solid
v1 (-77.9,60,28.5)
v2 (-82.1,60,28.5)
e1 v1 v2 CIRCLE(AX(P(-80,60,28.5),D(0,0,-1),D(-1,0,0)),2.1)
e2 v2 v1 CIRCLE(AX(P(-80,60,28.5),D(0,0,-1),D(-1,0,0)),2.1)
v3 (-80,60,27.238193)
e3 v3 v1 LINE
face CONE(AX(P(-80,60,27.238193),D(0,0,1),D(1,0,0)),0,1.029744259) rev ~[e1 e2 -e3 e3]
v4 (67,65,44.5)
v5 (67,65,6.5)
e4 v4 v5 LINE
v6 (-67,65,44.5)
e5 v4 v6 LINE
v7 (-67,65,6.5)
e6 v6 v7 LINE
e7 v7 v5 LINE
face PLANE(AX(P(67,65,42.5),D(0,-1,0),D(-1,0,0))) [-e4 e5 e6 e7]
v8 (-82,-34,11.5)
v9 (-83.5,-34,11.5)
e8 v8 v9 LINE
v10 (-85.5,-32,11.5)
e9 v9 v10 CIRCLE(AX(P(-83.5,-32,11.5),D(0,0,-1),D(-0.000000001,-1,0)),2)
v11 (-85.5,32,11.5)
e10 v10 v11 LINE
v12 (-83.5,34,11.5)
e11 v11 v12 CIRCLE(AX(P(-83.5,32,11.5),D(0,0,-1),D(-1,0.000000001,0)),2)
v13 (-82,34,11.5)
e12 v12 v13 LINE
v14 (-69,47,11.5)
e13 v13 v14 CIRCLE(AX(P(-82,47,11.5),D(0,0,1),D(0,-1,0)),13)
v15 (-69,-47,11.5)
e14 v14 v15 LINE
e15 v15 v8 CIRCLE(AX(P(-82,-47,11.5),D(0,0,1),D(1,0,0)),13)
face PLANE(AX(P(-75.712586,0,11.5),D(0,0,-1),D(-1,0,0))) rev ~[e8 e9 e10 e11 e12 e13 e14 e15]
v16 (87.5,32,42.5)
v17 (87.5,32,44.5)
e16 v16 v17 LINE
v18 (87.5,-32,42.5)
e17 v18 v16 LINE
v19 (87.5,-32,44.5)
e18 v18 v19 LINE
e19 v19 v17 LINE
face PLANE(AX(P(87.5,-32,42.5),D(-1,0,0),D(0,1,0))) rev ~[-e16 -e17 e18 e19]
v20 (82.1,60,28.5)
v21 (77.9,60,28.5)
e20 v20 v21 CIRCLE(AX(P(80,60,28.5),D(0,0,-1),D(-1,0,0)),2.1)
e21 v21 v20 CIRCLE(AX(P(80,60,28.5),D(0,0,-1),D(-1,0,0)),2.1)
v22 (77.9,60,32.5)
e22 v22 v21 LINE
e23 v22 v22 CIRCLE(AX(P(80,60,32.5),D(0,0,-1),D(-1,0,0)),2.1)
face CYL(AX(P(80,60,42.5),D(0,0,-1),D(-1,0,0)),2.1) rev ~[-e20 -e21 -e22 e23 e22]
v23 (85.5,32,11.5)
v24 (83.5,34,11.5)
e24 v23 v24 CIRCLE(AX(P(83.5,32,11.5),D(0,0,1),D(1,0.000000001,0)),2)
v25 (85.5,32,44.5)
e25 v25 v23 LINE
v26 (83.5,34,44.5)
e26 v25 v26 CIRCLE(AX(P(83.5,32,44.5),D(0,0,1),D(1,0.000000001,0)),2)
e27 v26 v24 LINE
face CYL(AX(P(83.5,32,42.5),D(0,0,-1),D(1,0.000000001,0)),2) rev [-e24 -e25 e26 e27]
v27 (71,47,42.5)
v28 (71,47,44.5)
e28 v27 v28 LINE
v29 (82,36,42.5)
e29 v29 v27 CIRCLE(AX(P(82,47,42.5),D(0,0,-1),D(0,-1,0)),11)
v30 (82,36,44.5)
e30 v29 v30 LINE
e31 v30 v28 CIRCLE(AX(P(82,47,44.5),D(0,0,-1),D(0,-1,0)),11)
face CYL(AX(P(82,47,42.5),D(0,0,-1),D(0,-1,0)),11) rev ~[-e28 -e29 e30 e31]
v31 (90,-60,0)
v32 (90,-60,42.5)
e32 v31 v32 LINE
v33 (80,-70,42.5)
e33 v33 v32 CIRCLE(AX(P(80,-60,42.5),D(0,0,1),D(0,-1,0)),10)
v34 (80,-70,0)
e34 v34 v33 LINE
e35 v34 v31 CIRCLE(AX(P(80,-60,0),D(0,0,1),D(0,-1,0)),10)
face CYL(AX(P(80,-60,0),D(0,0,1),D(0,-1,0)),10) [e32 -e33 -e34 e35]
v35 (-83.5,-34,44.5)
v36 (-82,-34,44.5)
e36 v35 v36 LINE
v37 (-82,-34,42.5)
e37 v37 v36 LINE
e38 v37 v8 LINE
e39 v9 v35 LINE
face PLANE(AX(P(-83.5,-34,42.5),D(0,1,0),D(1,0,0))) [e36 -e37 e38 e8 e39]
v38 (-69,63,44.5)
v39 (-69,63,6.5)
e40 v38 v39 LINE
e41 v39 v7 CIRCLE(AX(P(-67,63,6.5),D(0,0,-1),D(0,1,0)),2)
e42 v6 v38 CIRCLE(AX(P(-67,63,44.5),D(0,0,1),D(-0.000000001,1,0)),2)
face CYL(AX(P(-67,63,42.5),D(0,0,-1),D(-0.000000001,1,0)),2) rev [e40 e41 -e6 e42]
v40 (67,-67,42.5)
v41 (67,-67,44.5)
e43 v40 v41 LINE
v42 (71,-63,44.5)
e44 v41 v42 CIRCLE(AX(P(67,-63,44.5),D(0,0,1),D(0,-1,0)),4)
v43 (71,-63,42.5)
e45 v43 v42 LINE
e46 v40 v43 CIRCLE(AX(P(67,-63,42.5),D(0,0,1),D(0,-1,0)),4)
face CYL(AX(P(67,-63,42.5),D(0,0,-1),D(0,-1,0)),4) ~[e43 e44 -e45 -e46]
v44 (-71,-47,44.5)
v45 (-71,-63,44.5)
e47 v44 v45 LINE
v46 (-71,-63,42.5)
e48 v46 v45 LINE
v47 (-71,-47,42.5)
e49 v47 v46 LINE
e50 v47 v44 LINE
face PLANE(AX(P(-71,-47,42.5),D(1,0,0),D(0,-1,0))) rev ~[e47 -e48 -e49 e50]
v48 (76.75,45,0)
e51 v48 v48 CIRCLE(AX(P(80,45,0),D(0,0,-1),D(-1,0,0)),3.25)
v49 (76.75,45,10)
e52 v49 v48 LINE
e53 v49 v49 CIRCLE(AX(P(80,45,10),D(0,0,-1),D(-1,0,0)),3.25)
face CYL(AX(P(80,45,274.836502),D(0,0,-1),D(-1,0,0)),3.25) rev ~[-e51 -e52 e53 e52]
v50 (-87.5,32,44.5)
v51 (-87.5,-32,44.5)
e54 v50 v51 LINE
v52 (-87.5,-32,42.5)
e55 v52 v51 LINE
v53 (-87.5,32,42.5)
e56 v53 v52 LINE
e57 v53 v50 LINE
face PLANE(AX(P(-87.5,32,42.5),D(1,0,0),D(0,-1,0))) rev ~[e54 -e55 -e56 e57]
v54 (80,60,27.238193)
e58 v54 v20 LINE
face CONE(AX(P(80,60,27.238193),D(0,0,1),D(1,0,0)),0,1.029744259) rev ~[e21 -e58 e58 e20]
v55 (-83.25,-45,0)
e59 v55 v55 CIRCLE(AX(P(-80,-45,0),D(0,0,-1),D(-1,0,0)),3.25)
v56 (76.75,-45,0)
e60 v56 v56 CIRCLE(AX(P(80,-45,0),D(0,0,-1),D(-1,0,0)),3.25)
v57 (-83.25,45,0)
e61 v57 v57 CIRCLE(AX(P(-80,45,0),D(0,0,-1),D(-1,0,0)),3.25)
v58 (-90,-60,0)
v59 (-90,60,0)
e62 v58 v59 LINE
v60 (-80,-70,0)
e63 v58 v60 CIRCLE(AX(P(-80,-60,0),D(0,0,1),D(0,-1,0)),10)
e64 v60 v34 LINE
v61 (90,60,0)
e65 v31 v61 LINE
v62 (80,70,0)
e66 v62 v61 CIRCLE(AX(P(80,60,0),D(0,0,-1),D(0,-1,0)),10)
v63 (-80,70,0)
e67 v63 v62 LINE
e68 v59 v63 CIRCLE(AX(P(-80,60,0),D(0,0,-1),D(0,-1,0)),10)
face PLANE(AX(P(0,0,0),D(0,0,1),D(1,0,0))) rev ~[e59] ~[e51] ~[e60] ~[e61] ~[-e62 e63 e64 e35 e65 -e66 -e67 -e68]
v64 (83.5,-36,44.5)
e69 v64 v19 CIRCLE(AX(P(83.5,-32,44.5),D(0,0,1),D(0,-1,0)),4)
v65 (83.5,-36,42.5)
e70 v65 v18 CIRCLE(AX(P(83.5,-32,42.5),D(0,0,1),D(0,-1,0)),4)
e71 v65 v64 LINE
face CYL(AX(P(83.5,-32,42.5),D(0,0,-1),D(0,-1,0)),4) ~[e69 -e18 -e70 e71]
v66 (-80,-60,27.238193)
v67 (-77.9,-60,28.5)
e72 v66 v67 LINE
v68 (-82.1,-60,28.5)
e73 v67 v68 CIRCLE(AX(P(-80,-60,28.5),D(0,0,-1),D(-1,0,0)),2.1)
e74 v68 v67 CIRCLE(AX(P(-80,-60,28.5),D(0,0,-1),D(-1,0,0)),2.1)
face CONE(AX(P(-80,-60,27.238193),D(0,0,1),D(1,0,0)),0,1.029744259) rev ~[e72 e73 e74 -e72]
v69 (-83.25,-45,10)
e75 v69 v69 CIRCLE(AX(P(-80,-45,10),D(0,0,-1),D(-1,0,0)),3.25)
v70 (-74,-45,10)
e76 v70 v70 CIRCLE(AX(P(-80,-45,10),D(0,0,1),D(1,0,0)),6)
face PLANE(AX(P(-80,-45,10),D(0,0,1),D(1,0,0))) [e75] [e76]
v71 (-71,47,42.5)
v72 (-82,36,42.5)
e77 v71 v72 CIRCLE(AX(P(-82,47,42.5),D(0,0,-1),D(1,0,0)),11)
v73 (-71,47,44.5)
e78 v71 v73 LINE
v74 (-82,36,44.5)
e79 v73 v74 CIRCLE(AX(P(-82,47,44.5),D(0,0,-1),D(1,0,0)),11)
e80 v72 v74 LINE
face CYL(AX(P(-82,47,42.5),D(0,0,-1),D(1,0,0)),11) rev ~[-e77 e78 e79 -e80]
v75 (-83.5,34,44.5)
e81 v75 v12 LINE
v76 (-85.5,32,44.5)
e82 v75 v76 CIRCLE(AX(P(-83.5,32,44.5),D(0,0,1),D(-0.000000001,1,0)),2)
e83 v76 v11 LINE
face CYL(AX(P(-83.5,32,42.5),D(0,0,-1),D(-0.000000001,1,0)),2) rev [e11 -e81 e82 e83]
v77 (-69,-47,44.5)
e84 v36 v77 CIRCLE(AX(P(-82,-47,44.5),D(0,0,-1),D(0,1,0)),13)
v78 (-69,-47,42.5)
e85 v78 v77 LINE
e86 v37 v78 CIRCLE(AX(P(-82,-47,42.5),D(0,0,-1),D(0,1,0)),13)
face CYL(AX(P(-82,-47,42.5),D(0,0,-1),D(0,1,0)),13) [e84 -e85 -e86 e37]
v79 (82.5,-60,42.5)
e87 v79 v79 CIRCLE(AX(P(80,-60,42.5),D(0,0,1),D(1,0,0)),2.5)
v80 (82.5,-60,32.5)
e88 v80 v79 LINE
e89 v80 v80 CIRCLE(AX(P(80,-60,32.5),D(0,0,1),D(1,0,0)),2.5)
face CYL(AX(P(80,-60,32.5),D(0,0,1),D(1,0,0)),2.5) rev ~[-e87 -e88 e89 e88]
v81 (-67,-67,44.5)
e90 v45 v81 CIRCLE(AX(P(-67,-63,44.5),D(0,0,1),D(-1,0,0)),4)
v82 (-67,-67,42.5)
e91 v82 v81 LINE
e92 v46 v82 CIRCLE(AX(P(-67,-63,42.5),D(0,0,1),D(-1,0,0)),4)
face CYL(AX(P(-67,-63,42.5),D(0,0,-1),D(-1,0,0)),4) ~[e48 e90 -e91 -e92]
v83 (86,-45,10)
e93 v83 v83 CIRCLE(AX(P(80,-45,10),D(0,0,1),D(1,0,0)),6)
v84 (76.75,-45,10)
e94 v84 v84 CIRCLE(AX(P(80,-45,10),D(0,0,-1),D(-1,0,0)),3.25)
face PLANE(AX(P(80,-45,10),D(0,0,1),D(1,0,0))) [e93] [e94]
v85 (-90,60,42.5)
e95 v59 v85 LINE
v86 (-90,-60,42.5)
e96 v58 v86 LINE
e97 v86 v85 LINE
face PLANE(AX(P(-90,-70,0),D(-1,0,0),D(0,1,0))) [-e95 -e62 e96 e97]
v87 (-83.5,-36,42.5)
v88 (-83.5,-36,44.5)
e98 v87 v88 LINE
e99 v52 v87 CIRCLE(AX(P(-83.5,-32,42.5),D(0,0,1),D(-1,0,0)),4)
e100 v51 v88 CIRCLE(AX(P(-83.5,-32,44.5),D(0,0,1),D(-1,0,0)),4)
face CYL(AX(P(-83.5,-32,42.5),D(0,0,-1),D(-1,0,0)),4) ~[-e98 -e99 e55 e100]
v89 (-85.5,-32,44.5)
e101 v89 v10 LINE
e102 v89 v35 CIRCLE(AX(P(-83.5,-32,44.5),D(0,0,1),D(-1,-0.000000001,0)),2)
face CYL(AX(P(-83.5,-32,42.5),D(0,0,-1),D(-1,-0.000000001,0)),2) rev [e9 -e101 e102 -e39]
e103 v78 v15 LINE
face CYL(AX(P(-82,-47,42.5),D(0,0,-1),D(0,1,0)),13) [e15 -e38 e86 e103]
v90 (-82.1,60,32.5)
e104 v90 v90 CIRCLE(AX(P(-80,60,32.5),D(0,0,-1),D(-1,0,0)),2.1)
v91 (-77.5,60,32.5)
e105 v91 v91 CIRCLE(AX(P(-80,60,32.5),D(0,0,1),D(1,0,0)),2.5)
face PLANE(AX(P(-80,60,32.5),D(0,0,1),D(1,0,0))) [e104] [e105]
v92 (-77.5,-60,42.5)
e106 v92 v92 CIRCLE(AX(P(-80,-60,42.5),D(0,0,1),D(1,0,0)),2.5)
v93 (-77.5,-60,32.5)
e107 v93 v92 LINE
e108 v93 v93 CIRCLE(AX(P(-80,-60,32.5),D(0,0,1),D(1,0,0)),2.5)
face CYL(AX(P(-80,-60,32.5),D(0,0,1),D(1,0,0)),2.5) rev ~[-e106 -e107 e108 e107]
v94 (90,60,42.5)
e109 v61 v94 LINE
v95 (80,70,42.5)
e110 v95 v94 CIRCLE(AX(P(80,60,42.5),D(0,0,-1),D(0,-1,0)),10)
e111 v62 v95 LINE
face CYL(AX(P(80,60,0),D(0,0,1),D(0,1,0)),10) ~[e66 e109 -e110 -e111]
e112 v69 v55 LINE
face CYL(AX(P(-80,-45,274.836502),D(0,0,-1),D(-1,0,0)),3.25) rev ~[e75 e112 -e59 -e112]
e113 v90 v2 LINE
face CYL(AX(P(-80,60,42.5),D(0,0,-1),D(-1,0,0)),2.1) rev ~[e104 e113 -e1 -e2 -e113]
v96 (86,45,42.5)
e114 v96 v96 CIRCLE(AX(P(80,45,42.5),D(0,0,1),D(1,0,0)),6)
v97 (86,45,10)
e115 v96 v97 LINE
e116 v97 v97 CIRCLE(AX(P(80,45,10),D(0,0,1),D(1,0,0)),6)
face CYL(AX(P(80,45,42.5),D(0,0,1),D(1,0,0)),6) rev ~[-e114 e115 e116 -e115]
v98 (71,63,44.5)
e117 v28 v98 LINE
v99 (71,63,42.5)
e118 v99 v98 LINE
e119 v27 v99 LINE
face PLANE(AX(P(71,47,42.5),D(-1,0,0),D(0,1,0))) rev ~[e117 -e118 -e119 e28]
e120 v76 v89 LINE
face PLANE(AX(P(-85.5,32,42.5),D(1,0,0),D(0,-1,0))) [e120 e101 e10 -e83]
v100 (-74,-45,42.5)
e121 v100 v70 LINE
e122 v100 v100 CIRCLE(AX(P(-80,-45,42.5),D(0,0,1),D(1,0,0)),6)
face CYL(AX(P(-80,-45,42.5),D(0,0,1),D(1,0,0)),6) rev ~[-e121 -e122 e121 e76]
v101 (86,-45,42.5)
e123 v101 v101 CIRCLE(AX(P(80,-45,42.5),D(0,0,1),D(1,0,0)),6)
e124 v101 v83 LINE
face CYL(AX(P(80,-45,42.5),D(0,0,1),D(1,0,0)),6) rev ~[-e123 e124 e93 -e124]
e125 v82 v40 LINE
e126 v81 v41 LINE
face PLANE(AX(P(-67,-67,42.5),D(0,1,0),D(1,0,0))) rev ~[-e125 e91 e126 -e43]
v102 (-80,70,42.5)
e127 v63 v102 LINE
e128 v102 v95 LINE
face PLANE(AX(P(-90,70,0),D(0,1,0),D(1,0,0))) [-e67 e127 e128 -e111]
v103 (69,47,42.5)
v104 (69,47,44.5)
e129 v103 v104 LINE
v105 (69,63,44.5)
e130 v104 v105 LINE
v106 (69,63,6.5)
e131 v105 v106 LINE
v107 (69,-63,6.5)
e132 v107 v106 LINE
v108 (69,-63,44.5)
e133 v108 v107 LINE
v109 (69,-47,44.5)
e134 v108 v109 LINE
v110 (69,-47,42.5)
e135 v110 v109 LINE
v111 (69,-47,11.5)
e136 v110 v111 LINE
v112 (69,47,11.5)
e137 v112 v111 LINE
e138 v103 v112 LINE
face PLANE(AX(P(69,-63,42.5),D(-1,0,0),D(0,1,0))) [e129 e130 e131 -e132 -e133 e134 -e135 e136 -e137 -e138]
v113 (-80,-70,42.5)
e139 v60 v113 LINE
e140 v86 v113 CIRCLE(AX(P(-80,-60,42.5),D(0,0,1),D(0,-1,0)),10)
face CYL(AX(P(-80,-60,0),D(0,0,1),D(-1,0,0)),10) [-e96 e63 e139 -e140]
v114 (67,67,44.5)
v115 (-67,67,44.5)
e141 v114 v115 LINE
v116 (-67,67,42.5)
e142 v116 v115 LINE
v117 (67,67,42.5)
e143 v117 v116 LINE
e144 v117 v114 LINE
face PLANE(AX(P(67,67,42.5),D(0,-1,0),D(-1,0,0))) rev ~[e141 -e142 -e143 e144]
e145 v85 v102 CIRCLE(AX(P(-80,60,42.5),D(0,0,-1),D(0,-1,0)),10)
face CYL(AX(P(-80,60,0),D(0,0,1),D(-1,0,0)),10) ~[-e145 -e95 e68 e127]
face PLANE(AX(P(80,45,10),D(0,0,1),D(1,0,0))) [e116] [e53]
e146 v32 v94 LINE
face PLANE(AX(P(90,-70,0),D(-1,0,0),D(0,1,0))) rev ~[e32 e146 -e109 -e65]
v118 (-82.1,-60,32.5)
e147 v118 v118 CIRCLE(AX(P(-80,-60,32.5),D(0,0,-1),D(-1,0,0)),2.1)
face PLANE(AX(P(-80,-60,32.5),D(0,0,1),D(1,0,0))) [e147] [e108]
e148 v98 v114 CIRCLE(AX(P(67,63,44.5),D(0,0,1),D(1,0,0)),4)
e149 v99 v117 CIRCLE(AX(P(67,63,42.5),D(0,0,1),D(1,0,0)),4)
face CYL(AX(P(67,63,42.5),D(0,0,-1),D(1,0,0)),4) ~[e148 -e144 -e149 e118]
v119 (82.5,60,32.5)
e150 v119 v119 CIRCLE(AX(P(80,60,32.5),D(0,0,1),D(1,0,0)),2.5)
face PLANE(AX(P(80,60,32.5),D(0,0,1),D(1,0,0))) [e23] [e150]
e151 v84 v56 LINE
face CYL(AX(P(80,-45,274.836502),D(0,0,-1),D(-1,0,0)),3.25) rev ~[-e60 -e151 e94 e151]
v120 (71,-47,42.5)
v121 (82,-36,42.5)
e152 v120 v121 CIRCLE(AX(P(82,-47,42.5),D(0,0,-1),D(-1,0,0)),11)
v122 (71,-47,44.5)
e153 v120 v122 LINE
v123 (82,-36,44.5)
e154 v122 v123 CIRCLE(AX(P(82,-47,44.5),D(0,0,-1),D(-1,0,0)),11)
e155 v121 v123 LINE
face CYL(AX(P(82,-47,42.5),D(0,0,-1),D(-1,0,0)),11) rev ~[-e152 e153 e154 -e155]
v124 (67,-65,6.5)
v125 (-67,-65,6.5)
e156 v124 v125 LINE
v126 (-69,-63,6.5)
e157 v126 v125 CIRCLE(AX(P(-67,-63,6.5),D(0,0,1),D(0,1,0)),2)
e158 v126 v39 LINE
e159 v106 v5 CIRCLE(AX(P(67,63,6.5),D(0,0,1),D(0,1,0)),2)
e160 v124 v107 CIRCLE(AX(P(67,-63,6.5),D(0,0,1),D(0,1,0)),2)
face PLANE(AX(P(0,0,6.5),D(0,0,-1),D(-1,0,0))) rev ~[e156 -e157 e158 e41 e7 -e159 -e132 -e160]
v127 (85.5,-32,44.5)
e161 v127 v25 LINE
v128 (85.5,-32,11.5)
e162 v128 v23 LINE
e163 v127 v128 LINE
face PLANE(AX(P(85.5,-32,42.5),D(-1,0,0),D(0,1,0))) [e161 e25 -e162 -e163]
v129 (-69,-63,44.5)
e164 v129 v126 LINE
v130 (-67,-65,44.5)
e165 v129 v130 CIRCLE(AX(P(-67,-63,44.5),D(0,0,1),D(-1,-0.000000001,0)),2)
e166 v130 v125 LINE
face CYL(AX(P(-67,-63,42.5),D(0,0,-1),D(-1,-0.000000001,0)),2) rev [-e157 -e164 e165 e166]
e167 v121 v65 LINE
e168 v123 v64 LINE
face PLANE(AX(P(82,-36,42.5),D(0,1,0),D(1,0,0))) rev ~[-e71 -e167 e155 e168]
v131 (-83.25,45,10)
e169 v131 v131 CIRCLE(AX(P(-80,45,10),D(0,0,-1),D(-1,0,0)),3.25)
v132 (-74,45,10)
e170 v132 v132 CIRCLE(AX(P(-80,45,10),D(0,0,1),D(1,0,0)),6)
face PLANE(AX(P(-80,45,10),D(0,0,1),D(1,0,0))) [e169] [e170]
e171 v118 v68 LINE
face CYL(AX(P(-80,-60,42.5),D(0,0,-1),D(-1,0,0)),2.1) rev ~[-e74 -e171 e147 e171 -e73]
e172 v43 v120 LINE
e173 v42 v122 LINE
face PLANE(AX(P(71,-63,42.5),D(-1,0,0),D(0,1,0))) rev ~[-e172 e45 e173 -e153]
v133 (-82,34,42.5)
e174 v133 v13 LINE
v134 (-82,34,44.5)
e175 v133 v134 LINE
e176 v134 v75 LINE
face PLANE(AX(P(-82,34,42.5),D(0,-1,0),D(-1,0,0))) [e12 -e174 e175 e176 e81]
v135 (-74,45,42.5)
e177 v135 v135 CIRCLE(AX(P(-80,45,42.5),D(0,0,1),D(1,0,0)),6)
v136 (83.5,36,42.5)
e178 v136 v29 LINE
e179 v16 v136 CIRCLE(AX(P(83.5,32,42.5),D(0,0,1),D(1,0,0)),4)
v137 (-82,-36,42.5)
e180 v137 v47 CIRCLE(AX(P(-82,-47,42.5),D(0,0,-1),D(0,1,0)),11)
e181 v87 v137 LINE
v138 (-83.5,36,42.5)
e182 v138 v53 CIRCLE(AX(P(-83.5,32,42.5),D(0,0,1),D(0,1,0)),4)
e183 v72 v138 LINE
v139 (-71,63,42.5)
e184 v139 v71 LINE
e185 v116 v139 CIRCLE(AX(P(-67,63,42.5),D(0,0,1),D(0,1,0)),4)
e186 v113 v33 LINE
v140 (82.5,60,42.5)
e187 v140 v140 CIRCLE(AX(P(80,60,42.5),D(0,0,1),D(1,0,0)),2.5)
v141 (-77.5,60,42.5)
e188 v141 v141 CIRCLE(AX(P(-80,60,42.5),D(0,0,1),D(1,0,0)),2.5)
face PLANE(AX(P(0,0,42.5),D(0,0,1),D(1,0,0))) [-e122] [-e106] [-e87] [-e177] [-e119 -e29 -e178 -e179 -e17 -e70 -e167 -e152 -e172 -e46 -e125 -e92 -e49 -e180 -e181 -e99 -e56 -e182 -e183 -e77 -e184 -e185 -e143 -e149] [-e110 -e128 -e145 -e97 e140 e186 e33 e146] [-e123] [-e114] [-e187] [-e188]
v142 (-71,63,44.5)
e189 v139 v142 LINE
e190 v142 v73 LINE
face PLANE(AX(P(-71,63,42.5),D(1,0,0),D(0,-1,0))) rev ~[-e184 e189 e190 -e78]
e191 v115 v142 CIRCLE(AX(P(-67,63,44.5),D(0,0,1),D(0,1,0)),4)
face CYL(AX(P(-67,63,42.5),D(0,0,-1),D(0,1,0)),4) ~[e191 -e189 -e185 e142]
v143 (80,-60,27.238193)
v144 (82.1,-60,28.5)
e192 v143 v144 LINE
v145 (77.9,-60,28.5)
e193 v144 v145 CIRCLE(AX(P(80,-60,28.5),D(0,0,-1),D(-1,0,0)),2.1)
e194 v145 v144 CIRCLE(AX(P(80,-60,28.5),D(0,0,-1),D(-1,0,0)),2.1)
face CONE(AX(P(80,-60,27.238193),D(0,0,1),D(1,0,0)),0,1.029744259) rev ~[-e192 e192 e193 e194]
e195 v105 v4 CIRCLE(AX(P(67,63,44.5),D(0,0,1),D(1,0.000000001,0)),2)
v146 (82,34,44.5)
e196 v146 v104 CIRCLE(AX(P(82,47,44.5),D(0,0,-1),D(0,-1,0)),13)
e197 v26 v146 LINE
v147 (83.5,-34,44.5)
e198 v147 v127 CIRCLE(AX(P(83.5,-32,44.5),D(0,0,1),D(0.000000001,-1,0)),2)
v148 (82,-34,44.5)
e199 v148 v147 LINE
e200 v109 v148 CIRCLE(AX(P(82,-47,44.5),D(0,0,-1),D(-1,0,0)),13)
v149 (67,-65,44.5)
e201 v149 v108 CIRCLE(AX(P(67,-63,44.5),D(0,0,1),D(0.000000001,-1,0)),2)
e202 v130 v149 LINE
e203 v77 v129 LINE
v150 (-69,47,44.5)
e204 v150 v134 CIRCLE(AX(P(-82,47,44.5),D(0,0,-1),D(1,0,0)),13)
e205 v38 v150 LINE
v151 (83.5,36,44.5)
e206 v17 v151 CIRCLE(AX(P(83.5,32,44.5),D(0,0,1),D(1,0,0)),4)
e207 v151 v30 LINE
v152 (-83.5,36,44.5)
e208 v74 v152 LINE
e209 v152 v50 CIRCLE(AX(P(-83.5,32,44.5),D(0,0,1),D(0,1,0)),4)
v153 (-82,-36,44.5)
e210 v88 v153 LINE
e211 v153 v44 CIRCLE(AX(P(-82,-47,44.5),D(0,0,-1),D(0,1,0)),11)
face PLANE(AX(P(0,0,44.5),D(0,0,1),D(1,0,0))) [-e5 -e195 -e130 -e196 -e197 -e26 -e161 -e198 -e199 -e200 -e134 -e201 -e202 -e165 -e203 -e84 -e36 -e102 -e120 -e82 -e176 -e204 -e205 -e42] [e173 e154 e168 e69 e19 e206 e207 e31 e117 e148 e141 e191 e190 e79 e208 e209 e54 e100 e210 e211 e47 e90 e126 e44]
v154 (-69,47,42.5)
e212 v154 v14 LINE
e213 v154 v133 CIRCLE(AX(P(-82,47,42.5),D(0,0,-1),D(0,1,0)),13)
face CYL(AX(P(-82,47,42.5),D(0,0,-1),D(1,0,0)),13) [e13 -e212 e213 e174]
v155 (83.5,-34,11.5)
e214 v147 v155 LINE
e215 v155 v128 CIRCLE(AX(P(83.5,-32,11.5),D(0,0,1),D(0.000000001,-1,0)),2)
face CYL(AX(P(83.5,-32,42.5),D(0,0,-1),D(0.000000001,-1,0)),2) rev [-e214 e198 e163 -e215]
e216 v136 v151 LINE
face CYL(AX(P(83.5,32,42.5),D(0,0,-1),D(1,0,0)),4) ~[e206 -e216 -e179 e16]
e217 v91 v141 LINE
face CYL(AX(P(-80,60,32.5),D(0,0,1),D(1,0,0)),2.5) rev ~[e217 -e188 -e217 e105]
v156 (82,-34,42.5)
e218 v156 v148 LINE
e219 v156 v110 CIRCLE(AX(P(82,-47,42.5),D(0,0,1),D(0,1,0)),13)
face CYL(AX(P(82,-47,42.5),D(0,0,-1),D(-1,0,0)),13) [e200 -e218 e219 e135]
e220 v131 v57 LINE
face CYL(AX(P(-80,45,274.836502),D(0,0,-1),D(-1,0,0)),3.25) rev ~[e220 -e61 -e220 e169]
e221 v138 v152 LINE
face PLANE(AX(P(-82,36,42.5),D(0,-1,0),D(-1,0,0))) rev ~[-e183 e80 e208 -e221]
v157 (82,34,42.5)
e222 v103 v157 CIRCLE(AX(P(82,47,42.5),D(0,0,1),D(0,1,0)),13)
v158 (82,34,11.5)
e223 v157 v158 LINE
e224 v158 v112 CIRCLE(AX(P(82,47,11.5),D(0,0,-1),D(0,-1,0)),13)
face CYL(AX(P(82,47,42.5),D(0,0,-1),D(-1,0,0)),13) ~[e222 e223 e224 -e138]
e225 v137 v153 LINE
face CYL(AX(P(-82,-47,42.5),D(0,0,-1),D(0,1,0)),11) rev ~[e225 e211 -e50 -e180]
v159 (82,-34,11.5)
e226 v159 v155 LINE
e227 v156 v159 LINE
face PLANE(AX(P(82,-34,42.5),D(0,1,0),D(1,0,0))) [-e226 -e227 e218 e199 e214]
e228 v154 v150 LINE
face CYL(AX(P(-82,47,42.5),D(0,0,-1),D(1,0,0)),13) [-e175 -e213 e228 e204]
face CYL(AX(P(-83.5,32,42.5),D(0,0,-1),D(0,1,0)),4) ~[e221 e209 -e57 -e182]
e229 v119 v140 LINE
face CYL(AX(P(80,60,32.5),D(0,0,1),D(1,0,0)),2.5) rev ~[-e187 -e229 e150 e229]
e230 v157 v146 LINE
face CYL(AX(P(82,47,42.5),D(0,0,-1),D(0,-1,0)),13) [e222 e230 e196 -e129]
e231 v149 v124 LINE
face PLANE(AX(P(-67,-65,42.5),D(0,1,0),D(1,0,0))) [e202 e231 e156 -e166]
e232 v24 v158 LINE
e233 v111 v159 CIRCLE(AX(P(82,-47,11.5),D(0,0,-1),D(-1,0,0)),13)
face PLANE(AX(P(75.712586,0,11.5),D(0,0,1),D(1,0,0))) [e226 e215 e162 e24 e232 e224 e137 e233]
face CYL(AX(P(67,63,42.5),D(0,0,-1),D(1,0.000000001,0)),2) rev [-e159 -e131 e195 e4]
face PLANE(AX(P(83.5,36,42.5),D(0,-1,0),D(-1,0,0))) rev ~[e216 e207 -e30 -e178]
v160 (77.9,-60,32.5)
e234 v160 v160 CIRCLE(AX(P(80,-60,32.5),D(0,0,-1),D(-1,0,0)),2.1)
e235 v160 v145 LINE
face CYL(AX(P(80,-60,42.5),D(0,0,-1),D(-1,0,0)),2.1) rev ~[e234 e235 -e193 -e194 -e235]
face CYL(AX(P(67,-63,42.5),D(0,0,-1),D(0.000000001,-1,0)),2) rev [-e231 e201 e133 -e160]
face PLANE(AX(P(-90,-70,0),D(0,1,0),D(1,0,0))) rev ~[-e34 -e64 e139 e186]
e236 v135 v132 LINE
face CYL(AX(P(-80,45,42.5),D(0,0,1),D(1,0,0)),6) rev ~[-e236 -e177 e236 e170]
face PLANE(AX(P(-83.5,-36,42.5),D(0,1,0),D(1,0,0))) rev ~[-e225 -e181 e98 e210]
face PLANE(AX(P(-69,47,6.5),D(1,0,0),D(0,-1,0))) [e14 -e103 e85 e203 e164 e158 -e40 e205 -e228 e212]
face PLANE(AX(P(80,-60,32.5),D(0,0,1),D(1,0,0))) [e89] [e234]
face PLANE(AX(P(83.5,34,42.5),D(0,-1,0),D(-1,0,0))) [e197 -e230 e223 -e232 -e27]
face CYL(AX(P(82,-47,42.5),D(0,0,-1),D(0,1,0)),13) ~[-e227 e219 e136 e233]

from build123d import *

# Parameters (mm, degrees)
SKETCH1_W                   = 180
SKETCH1_H                   = 140
BOSS_EXTRUDE1_DEPTH         = 42.5
CUT_EXTRUDE1_DEPTH          = 36
FILLET1_R                   = 2
FILLET2_R                   = 13
FILLET3_R                   = 10
BOSS_EXTRUDE2_DEPTH         = 2
F_6_5_6_5_DIAMETER_HOLE1_D  = 6.5
M5_TAPPED_HOLE1_D           = 4.2
M5_TAPPED_HOLE1_DEPTH       = 14
M5_TAPPED_HOLE1_CBORE_D     = 5
M5_TAPPED_HOLE1_CBORE_DEPTH = 10
M5_TAPPED_HOLE1_TIP         = 1.2618073
BOSS_EXTRUDE3_DEPTH         = 5
SKETCH18_R                  = 6
CUT_EXTRUDE4_DEPTH          = 32.5


with BuildPart() as part:
    # Sketch1 → Boss-Extrude1 (new body)
    with BuildSketch(Plane.XY):
        Rectangle(SKETCH1_W, SKETCH1_H)
    extrude(amount=BOSS_EXTRUDE1_DEPTH)

    # Sketch2 → Cut-Extrude1 (cut)
    with BuildSketch(Plane.XY.offset(42.5)):
        Polygon((-69, 65), (69, 65), (69, 34), (85.5, 34), (85.5, -34), (69, -34), (69, -65), (-69, -65), (-69, -34), (-85.5, -34), (-85.5, 34), (-69, 34), align=None)
    extrude(amount=-CUT_EXTRUDE1_DEPTH, mode=Mode.SUBTRACT)

    # Fillet1
    fillet1_edges = [part.edges().sort_by_distance(p)[0] for p in [
        (-69, 65, 24.5),
        (69, 65, 24.5),
        (85.5, 34, 24.5),
        (85.5, -34, 24.5),
        (69, -65, 24.5),
        (-69, -65, 24.5),
        (-85.5, -34, 24.5),
        (-85.5, 34, 24.5),
    ]]
    fillet(fillet1_edges, radius=FILLET1_R)

    # Fillet2
    fillet2_edges = [part.edges().sort_by_distance(p)[0] for p in [
        (-69, 34, 24.5),
        (69, 34, 24.5),
        (69, -34, 24.5),
        (-69, -34, 24.5),
    ]]
    fillet(fillet2_edges, radius=FILLET2_R)

    # Fillet3
    fillet3_edges = [part.edges().sort_by_distance(p)[0] for p in [
        (-90, 70, 21.25),
        (90, 70, 21.25),
        (90, -70, 21.25),
        (-90, -70, 21.25),
    ]]
    fillet(fillet3_edges, radius=FILLET3_R)

    # Sketch3 → Boss-Extrude2 (add)
    with BuildSketch(Plane.XY.offset(42.5)):
        with BuildLine():
            Line((-71, 63), (-71, 47))
            ThreePointArc((-71, 47), (-74.221825407, 39.221825407), (-82, 36))
            Line((-82, 36), (-83.5, 36))
            ThreePointArc((-83.5, 36), (-86.328427125, 34.828427125), (-87.5, 32))
            Line((-87.5, 32), (-87.5, -32))
            ThreePointArc((-87.5, -32), (-86.328427125, -34.828427125), (-83.5, -36))
            Line((-83.5, -36), (-82, -36))
            ThreePointArc((-82, -36), (-74.221825407, -39.221825407), (-71, -47))
            Line((-71, -47), (-71, -63))
            ThreePointArc((-71, -63), (-69.828427125, -65.828427125), (-67, -67))
            Line((-67, -67), (67, -67))
            ThreePointArc((67, -67), (69.828427125, -65.828427125), (71, -63))
            Line((71, -63), (71, -47))
            ThreePointArc((71, -47), (74.221825407, -39.221825407), (82, -36))
            Line((82, -36), (83.5, -36))
            ThreePointArc((83.5, -36), (86.328427125, -34.828427125), (87.5, -32))
            Line((87.5, -32), (87.5, 32))
            ThreePointArc((87.5, 32), (86.328427125, 34.828427125), (83.5, 36))
            Line((83.5, 36), (82, 36))
            ThreePointArc((82, 36), (74.221825407, 39.221825407), (71, 47))
            Line((71, 47), (71, 63))
            ThreePointArc((71, 63), (69.828427125, 65.828427125), (67, 67))
            Line((67, 67), (-67, 67))
            ThreePointArc((-67, 67), (-69.828427125, 65.828427125), (-71, 63))
        make_face()
        with BuildLine():
            Line((-83.5, -34), (-82, -34))
            ThreePointArc((-82, -34), (-72.807611845, -37.807611845), (-69, -47))
            Line((-69, -47), (-69, -63))
            ThreePointArc((-69, -63), (-68.414213562, -64.414213562), (-67, -65))
            Line((-67, -65), (67, -65))
            ThreePointArc((67, -65), (68.414213562, -64.414213562), (69, -63))
            Line((69, -63), (69, -47))
            ThreePointArc((69, -47), (72.807611845, -37.807611845), (82, -34))
            Line((82, -34), (83.5, -34))
            ThreePointArc((83.5, -34), (84.914213562, -33.414213562), (85.5, -32))
            Line((85.5, -32), (85.5, 32))
            ThreePointArc((85.5, 32), (84.914213562, 33.414213562), (83.5, 34))
            Line((83.5, 34), (82, 34))
            ThreePointArc((82, 34), (72.807611845, 37.807611845), (69, 47))
            Line((69, 47), (69, 63))
            ThreePointArc((69, 63), (68.414213562, 64.414213562), (67, 65))
            Line((67, 65), (-67, 65))
            ThreePointArc((-67, 65), (-68.414213562, 64.414213562), (-69, 63))
            Line((-69, 63), (-69, 47))
            ThreePointArc((-69, 47), (-72.807611845, 37.807611845), (-82, 34))
            Line((-82, 34), (-83.5, 34))
            ThreePointArc((-83.5, 34), (-84.914213562, 33.414213562), (-85.5, 32))
            Line((-85.5, 32), (-85.5, -32))
            ThreePointArc((-85.5, -32), (-84.914213562, -33.414213562), (-83.5, -34))
        make_face(mode=Mode.SUBTRACT)
    extrude(amount=BOSS_EXTRUDE2_DEPTH)

    # Ø6.5 (6.5) Diameter Hole1 (through all)
    with Locations(Plane.XY.offset(42.5)):
        with Locations((-80, 45), (-80, -45), (80, -45), (80, 45)):
            Hole(F_6_5_6_5_DIAMETER_HOLE1_D / 2)

    # M5 Tapped Hole1
    with Locations(Plane.XY.offset(42.5)):
        with Locations((-80, 60), (-80, -60), (80, -60), (80, 60)):
            CounterBoreHole(M5_TAPPED_HOLE1_D / 2, M5_TAPPED_HOLE1_CBORE_D / 2, M5_TAPPED_HOLE1_CBORE_DEPTH, depth=M5_TAPPED_HOLE1_DEPTH)
            with Locations((0, 0, -(M5_TAPPED_HOLE1_DEPTH + M5_TAPPED_HOLE1_TIP / 2))):  # 118° drill point
                Cone(0, M5_TAPPED_HOLE1_D / 2, M5_TAPPED_HOLE1_TIP, mode=Mode.SUBTRACT)

    # Sketch13 → Boss-Extrude3 (add)
    with BuildSketch(Plane.XY.offset(6.5)):
        with BuildLine():
            Line((-69, 47), (-69, -47))
            ThreePointArc((-69, -47), (-72.807611845, -37.807611845), (-82, -34))
            Line((-82, -34), (-83.5, -34))
            ThreePointArc((-83.5, -34), (-84.914213562, -33.414213562), (-85.5, -32))
            Line((-85.5, -32), (-85.5, 32))
            ThreePointArc((-85.5, 32), (-84.914213562, 33.414213562), (-83.5, 34))
            Line((-83.5, 34), (-82, 34))
            ThreePointArc((-82, 34), (-72.807611845, 37.807611845), (-69, 47))
        make_face()
        with BuildLine():
            Line((69, 47), (69, -47))
            ThreePointArc((69, -47), (72.807611845, -37.807611845), (82, -34))
            Line((82, -34), (83.5, -34))
            ThreePointArc((83.5, -34), (84.914213562, -33.414213562), (85.5, -32))
            Line((85.5, -32), (85.5, 32))
            ThreePointArc((85.5, 32), (84.914213562, 33.414213562), (83.5, 34))
            Line((83.5, 34), (82, 34))
            ThreePointArc((82, 34), (72.807611845, 37.807611845), (69, 47))
        make_face()
    extrude(amount=BOSS_EXTRUDE3_DEPTH)

    # Sketch18 → Cut-Extrude4 (cut)
    with BuildSketch(Plane.XY.offset(42.5)):
        with Locations((-80, 45)):
            Circle(SKETCH18_R)
        with Locations((-80, -45)):
            Circle(SKETCH18_R)
        with Locations((80, -45)):
            Circle(SKETCH18_R)
        with Locations((80, 45)):
            Circle(SKETCH18_R)
    extrude(amount=-CUT_EXTRUDE4_DEPTH, mode=Mode.SUBTRACT)


solid = part.part
